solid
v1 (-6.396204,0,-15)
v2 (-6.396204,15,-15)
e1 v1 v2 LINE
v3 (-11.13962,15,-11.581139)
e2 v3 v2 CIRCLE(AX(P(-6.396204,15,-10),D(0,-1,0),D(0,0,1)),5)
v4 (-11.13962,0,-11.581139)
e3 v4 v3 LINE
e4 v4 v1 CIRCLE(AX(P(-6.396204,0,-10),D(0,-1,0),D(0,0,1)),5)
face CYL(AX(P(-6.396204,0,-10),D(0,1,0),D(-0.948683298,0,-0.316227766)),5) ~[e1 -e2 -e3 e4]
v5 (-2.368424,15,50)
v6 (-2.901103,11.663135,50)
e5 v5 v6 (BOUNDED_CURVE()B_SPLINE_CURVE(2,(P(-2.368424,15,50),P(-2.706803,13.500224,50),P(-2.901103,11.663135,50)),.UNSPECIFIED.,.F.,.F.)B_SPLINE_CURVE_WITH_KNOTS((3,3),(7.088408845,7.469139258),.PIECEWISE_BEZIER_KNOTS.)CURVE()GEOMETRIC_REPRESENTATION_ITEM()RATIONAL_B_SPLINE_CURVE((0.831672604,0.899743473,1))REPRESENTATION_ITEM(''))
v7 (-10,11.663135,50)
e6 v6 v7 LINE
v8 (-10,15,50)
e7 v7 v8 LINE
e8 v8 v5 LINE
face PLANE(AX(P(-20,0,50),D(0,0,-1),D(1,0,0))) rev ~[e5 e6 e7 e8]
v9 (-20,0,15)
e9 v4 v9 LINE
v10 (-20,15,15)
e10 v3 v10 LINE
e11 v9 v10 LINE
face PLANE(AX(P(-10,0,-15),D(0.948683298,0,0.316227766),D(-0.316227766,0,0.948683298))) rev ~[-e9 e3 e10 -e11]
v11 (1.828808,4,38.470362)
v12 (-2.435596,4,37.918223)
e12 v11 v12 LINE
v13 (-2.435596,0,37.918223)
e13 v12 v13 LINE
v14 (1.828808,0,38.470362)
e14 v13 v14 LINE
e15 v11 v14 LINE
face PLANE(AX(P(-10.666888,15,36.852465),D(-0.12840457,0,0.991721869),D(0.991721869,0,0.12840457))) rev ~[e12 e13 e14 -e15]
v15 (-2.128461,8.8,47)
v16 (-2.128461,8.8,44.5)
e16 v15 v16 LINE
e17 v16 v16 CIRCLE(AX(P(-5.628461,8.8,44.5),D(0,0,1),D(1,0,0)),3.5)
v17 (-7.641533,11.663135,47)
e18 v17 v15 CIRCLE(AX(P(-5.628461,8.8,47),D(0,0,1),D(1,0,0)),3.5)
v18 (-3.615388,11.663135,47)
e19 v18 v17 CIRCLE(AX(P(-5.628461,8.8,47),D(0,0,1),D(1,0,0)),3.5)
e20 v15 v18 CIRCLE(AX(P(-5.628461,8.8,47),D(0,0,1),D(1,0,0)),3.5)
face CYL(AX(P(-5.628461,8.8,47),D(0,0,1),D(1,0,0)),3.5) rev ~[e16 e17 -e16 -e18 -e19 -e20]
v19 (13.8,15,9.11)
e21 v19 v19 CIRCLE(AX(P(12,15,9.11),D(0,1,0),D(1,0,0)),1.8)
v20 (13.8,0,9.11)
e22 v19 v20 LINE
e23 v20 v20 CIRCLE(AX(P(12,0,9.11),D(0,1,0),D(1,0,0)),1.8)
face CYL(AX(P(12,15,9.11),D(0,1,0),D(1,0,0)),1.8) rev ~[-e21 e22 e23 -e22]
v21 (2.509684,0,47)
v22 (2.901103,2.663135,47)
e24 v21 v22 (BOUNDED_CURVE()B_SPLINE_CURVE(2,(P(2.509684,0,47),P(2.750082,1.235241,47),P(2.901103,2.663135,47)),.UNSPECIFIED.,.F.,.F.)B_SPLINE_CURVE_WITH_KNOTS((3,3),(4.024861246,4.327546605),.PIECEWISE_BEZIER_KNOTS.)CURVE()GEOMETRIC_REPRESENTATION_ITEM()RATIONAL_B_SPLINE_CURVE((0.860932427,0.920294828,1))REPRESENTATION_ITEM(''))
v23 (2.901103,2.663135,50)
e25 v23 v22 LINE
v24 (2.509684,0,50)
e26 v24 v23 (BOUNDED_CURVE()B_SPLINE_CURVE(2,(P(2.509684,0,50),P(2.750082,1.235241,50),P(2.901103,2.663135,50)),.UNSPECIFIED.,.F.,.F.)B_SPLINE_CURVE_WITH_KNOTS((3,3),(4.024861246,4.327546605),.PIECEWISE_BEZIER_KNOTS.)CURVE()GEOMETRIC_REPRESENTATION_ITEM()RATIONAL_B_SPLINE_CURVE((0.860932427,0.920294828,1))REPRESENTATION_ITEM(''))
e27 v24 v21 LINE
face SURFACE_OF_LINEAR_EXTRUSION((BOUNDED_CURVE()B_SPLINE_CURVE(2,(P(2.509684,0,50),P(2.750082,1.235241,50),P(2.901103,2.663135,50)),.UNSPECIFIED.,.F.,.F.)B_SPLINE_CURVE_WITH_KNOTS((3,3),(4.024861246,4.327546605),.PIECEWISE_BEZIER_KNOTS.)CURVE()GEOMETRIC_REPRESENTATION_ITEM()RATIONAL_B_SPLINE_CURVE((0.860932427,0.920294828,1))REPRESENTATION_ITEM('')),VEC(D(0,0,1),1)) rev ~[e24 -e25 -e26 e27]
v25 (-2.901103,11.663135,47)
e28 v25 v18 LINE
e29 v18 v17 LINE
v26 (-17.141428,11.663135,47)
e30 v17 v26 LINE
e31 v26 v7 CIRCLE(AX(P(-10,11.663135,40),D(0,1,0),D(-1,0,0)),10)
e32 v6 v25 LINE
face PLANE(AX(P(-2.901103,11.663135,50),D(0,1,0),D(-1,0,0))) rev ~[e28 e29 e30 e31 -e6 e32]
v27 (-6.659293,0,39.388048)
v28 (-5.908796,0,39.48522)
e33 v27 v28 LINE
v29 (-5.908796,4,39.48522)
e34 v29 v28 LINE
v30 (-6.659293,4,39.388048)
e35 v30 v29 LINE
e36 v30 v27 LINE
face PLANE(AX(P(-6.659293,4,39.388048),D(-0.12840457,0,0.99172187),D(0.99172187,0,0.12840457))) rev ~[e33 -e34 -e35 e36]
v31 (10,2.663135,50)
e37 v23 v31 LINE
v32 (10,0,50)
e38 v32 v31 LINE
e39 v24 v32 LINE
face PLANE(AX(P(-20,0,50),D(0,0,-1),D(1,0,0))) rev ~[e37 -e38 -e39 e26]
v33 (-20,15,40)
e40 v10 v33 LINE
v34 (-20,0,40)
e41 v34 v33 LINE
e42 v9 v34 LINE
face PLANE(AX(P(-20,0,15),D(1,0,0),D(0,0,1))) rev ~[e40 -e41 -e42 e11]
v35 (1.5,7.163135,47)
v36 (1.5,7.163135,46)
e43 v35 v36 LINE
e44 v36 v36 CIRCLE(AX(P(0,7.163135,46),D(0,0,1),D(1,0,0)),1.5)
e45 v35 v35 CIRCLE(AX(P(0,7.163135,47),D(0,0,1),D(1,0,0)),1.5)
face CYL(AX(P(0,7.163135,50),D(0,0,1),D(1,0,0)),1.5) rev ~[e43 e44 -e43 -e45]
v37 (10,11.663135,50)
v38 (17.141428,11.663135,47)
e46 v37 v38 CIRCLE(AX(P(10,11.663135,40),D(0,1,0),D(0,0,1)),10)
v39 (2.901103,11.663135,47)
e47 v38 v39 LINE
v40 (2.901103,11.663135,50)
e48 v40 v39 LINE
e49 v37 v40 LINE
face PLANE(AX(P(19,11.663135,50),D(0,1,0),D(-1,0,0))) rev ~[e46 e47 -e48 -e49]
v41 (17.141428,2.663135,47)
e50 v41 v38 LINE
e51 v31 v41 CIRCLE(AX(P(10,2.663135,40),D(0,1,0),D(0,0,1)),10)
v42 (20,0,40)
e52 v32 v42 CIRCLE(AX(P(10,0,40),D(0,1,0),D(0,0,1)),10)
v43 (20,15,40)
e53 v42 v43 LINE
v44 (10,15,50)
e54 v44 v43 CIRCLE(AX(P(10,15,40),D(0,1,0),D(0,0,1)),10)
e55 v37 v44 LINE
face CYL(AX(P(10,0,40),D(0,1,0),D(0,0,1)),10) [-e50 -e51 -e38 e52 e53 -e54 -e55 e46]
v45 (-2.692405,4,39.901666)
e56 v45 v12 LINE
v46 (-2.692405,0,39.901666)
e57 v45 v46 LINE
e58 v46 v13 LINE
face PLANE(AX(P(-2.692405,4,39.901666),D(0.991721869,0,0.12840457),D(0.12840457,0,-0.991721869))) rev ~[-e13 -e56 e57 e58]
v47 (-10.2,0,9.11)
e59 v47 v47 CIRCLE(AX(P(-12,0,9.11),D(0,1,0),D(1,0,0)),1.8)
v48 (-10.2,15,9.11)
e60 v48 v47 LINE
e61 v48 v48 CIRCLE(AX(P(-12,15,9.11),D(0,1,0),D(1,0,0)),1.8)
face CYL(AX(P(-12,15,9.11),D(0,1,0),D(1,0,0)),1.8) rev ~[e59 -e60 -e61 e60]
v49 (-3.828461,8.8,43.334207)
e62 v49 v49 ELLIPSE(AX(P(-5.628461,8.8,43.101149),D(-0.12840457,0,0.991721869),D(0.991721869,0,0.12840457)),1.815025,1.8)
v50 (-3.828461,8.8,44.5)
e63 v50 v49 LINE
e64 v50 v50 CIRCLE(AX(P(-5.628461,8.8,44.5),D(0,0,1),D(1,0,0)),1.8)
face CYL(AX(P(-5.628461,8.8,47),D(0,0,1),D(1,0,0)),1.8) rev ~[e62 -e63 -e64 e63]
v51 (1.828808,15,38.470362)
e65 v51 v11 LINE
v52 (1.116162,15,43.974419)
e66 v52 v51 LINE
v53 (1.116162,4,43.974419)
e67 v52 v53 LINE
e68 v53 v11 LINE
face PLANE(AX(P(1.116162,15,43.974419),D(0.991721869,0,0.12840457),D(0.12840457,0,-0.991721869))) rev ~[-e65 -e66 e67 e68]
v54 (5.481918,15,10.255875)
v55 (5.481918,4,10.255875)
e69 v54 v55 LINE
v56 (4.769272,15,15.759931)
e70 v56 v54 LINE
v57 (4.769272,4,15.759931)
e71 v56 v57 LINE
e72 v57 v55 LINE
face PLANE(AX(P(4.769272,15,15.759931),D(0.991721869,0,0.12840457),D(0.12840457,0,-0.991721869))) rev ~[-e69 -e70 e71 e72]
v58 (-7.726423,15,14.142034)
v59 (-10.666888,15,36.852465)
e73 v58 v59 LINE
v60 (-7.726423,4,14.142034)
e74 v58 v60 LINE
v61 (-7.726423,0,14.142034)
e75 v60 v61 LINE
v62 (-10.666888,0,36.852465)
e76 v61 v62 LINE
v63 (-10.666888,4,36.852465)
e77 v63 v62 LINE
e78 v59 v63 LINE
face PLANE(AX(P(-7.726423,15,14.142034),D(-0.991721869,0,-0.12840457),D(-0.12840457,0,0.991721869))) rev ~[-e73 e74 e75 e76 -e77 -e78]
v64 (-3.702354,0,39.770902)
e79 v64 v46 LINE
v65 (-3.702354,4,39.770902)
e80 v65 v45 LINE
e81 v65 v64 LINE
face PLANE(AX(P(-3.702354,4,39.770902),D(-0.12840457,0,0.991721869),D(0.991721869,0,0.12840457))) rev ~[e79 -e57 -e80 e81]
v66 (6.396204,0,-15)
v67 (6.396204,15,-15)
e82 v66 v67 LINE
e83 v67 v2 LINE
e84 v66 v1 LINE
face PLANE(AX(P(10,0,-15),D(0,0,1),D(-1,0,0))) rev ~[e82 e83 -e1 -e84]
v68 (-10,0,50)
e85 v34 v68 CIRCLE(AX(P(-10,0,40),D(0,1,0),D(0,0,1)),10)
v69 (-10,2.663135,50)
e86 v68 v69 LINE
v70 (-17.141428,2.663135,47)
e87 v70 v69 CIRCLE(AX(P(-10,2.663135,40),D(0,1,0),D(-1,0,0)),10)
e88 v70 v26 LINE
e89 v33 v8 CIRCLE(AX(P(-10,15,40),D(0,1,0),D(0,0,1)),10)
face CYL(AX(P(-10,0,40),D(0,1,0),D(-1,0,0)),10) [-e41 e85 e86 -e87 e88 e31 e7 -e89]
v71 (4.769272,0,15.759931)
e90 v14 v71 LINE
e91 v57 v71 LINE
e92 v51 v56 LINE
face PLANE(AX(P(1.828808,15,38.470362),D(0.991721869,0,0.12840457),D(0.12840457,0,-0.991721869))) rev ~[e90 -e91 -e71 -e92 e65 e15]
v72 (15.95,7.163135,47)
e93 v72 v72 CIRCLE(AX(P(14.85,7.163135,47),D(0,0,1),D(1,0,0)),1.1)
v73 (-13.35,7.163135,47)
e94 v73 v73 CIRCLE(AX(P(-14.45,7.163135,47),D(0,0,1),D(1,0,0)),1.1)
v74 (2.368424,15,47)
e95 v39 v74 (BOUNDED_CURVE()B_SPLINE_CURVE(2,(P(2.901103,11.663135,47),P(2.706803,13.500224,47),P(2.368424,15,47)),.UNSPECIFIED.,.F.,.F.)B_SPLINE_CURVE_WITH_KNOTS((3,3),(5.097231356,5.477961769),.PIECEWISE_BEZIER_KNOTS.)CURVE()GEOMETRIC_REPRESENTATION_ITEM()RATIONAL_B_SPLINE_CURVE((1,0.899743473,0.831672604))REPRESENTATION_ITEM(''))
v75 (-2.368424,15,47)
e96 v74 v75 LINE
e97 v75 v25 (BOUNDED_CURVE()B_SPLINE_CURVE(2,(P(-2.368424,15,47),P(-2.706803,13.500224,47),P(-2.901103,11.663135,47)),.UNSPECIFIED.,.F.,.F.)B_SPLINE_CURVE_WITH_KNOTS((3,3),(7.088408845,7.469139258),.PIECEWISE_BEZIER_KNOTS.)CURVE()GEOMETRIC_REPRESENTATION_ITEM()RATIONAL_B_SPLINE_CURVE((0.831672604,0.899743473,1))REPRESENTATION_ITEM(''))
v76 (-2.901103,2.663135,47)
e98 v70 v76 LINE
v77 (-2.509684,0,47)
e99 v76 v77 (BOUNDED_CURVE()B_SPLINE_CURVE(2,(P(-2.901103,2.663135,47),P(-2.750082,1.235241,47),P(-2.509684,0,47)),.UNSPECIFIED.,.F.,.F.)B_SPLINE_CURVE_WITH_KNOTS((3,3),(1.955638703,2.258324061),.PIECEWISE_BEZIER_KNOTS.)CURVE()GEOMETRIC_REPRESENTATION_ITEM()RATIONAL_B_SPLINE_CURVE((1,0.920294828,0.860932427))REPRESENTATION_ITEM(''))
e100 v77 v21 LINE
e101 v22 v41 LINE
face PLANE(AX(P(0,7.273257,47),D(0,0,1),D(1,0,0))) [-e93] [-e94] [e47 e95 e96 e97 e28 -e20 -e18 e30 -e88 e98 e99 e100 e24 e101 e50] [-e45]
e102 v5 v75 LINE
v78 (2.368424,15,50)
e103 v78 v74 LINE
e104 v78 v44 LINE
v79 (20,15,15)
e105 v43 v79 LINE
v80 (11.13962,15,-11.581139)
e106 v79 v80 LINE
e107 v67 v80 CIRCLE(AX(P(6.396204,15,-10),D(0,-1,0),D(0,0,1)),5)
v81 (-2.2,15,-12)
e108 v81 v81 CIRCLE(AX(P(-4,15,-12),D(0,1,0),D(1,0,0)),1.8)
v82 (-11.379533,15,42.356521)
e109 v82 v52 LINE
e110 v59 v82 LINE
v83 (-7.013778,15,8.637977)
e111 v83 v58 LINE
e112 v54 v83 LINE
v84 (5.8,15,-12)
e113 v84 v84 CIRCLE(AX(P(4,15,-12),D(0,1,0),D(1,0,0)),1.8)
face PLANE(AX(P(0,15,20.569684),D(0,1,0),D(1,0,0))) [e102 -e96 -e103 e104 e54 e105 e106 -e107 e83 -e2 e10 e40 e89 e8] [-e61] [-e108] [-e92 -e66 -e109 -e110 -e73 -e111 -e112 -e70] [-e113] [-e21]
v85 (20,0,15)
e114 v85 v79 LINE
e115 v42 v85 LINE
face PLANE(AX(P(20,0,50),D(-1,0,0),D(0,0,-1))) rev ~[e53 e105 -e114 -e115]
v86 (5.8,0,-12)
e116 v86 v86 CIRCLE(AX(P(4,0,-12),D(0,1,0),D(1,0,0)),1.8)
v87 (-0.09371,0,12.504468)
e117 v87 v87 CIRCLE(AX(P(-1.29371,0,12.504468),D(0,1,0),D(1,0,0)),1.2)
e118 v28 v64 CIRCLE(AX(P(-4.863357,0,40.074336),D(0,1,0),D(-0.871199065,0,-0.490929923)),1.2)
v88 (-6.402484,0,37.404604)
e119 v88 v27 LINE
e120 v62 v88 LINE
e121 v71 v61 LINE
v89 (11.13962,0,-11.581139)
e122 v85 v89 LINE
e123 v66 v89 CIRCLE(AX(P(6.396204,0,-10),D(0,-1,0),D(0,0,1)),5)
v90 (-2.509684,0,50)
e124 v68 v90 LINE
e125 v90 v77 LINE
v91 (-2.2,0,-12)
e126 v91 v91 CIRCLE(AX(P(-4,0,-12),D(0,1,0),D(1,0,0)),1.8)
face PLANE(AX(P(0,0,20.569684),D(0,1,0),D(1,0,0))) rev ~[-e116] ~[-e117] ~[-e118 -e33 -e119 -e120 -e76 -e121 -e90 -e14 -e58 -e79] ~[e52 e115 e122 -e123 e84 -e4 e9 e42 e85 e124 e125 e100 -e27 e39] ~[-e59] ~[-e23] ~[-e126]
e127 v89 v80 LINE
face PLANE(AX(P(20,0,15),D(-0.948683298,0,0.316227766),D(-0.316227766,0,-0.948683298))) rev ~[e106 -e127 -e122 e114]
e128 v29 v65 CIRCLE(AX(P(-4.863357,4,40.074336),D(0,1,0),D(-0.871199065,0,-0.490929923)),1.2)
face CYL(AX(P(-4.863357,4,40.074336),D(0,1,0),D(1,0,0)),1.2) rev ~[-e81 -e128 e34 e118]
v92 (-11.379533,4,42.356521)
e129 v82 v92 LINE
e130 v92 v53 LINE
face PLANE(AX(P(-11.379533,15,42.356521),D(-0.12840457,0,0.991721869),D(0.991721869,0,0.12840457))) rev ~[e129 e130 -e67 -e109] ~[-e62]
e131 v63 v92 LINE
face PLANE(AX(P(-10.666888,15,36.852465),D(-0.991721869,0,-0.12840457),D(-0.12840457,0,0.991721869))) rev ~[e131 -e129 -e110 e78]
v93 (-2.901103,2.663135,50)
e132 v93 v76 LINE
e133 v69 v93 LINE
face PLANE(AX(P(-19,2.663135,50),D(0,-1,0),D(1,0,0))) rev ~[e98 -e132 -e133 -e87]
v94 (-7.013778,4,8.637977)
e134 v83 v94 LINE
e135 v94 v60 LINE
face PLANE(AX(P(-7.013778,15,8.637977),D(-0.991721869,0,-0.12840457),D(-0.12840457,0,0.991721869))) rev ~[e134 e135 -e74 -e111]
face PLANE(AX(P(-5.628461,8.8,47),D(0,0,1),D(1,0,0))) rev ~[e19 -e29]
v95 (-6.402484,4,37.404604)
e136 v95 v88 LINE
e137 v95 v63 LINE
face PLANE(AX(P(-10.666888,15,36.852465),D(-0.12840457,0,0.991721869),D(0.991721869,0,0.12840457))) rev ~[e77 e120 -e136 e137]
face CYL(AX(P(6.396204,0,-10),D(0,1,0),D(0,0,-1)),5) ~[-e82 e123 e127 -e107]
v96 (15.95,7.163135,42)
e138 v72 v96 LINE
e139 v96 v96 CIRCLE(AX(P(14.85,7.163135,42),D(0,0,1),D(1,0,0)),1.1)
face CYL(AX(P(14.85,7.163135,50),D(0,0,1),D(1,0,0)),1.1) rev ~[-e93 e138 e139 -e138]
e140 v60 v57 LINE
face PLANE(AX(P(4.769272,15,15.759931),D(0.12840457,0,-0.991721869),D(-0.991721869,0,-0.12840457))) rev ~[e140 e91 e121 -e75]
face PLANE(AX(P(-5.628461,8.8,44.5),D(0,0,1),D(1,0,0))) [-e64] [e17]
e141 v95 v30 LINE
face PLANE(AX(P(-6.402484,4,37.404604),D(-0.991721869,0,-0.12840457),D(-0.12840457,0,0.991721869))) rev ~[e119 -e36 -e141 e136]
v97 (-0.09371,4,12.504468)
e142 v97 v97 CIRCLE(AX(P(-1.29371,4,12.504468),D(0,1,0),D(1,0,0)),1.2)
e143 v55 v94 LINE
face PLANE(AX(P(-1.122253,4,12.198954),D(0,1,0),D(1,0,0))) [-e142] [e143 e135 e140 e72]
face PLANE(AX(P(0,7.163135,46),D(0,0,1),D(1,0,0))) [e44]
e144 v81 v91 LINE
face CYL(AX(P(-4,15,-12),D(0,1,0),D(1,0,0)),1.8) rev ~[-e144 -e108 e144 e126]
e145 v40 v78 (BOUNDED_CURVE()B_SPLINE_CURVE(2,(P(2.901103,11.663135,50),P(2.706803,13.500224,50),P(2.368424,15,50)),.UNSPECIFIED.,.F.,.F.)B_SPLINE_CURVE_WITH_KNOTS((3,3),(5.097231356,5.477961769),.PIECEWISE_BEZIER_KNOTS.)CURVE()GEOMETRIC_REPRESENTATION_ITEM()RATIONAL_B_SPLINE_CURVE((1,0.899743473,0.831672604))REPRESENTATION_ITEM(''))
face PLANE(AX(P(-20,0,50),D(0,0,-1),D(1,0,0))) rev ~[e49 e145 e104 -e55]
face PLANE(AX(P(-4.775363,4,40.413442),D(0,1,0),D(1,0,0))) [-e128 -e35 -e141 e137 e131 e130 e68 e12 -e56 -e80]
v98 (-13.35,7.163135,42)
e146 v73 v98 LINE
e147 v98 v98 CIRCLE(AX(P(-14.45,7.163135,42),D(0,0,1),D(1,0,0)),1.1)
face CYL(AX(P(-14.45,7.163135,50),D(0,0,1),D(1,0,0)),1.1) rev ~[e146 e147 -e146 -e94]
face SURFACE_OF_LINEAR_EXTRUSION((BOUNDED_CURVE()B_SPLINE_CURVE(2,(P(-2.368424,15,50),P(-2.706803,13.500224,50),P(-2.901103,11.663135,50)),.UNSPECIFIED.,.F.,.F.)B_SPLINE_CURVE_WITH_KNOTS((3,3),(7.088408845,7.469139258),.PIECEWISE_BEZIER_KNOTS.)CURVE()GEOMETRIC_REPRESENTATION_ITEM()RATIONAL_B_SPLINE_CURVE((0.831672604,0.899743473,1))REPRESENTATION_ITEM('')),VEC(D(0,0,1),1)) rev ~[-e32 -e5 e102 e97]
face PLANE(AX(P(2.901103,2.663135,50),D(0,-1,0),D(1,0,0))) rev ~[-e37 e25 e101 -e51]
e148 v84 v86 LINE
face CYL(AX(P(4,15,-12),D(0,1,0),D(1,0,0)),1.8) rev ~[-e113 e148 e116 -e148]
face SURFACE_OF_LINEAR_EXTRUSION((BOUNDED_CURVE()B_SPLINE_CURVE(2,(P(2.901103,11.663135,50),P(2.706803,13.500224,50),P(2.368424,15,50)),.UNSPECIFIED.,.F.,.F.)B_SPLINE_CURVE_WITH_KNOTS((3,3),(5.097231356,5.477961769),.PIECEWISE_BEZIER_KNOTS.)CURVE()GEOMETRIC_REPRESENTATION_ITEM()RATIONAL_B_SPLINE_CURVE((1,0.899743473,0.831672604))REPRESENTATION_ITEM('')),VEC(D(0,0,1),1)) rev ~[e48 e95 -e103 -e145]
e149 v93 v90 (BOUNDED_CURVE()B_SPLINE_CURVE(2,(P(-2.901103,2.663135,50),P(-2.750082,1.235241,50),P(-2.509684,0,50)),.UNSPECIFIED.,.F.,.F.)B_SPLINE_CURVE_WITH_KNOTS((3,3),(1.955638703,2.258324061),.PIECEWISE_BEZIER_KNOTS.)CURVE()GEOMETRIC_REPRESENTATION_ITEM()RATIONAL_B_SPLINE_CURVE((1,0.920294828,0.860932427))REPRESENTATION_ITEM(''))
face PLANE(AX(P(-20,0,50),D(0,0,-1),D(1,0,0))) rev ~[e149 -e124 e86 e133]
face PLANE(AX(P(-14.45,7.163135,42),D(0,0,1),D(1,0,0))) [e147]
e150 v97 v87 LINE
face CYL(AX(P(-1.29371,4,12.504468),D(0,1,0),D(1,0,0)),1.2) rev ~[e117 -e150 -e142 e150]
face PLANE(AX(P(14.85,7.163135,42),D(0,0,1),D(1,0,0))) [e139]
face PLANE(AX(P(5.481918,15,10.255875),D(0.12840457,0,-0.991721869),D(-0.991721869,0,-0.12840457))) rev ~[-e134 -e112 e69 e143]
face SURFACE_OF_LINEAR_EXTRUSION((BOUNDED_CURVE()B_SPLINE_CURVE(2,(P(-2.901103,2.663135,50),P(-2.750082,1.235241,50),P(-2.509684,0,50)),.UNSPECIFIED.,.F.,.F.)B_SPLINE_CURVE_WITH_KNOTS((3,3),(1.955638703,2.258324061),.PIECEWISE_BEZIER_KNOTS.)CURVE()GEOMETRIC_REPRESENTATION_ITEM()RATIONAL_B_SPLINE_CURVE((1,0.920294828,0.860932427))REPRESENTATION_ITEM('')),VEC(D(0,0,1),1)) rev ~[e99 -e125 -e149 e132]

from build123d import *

# Parameters (mm, degrees)
BOSS_EXTRUDE1_DEPTH = 15
SKETCH2_R           = 1.8
CUT_EXTRUDE1_DEPTH  = 56.901699437
FILLET2_R           = 5
CUT_EXTRUDE2_DEPTH  = 56.901699437
CUT_EXTRUDE3_DEPTH  = 11
SKETCH3_R           = 1.2
CUT_EXTRUDE4_DEPTH  = 11
FILLET3_R           = 10
SKETCH4_R           = 1.1
CUT_EXTRUDE5_DEPTH  = 3
SKETCH4_2_R         = 1.1
CUT_EXTRUDE6_DEPTH  = 8
SKETCH4_4_R         = 1.5
CUT_EXTRUDE7_DEPTH  = 4
CUT_EXTRUDE8_DEPTH  = 4
SKETCH6_R           = 3.5
SKETCH6_R_2         = 1.8
CUT_EXTRUDE9_DEPTH  = 2.5
SKETCH6_2_R         = 1.8
CUT_EXTRUDE10_DEPTH = 13.5


with BuildPart() as part:
    # Sketch1 → Boss-Extrude1 (new body)
    with BuildSketch(Plane(origin=(0, 0, 0), x_dir=(1, 0, 0), z_dir=(0, 1, 0))):
        Polygon((-10, 15), (-20, -15), (-20, -50), (20, -50), (20, -15), (10, 15), align=None)
    extrude(amount=BOSS_EXTRUDE1_DEPTH)

    # Sketch2 → Cut-Extrude1 (cut, through all)
    with BuildSketch(Plane(origin=(0, 15, 0), x_dir=(1, 0, 0), z_dir=(0, 1, 0))):
        with Locations((-4, 12)):
            Circle(SKETCH2_R)
        with Locations((4, 12)):
            Circle(SKETCH2_R)
        with Locations((12, -9.11)):
            Circle(SKETCH2_R)
        with Locations((-12, -9.11)):
            Circle(SKETCH2_R)
    extrude(amount=-CUT_EXTRUDE1_DEPTH, mode=Mode.SUBTRACT)

    # Fillet2
    fillet2_edges = [part.edges().sort_by_distance(p)[0] for p in [
        (-10, 7.5, -15),
        (10, 7.5, -15),
    ]]
    fillet(fillet2_edges, radius=FILLET2_R)

    # Sketch2<3> → Cut-Extrude2 (cut, through all)
    with BuildSketch(Plane(origin=(0, 15, 0), x_dir=(1, 0, 0), z_dir=(0, 1, 0))):
        Polygon((-10.666887738, -36.852464686), (1.828807817, -38.470362271), (4.769272475, -15.75993146), (-7.72642308, -14.142033875), align=None)
    extrude(amount=-CUT_EXTRUDE2_DEPTH, mode=Mode.SUBTRACT)

    # Sketch2<4> → Cut-Extrude3 (cut)
    with BuildSketch(Plane(origin=(0, 15, 0), x_dir=(1, 0, 0), z_dir=(0, 1, 0))):
        Polygon((1.116162452, -43.974418646), (1.828807817, -38.470362271), (-10.666887738, -36.852464686), (-11.379533103, -42.356521061), align=None)
        Polygon((-7.72642308, -14.142033875), (4.769272475, -15.75993146), (5.481917839, -10.255875085), (-7.013777716, -8.6379775), align=None)
    extrude(amount=-CUT_EXTRUDE3_DEPTH, mode=Mode.SUBTRACT)

    # Sketch3 → Cut-Extrude4 (cut)
    with BuildSketch(Plane(origin=(0, 4, 0), x_dir=(1, 0, 0), z_dir=(0, 1, 0))):
        with Locations((-1.293710172, -12.504467624)):
            Circle(SKETCH3_R)
        with Locations((-4.863357224, -40.074335595)):
            Circle(SKETCH3_R)
    extrude(amount=-CUT_EXTRUDE4_DEPTH, mode=Mode.SUBTRACT)

    # Fillet3
    fillet3_edges = [part.edges().sort_by_distance(p)[0] for p in [
        (20, 7.5, 50),
        (-20, 7.5, 50),
    ]]
    fillet(fillet3_edges, radius=FILLET3_R)

    # Sketch4 → Cut-Extrude5 (cut)
    with BuildSketch(Plane.XY.offset(50)):
        with BuildLine():
            Line((19, 2.663134509), (19, 11.663134509))
            Line((19, 11.663134509), (2.90110314, 11.663134509))
            add(Edge.make_bspline(
                [(2.90110314, 11.663134509), (2.706802795, 13.50022371), (2.368423756, 15)],
                knots=[5.097231356, 5.097231356, 5.097231356, 5.477961769, 5.477961769, 5.477961769], degree=2, weights=[1, 0.899743473, 0.831672604]))
            Line((2.368423756, 15), (-2.368423756, 15))
            add(Edge.make_bspline(
                [(-2.368423756, 15), (-2.706802795, 13.50022371), (-2.90110314, 11.663134509)],
                knots=[7.088408845, 7.088408845, 7.088408845, 7.469139258, 7.469139258, 7.469139258], degree=2, weights=[0.831672604, 0.899743473, 1]))
            Line((-2.90110314, 11.663134509), (-19, 11.663134509))
            Line((-19, 11.663134509), (-19, 2.663134509))
            Line((-19, 2.663134509), (-2.90110314, 2.663134509))
            add(Edge.make_bspline(
                [(-2.90110314, 2.663134509), (-2.750081515, 1.235241026), (-2.509684133, 0)],
                knots=[1.955638703, 1.955638703, 1.955638703, 2.258324061, 2.258324061, 2.258324061], degree=2, weights=[1, 0.920294828, 0.860932427]))
            Line((-2.509684133, 0), (2.509684133, 0))
            add(Edge.make_bspline(
                [(2.509684133, 0), (2.750081515, 1.235241026), (2.90110314, 2.663134509)],
                knots=[4.024861246, 4.024861246, 4.024861246, 4.327546605, 4.327546605, 4.327546605], degree=2, weights=[0.860932427, 0.920294828, 1]))
            Line((2.90110314, 2.663134509), (19, 2.663134509))
        make_face()
        with Locations((14.85, 7.163134509)):
            Circle(SKETCH4_R, mode=Mode.SUBTRACT)
        with Locations((-14.45, 7.163134509)):
            Circle(SKETCH4_R, mode=Mode.SUBTRACT)
    extrude(amount=-CUT_EXTRUDE5_DEPTH, mode=Mode.SUBTRACT)

    # Sketch4<2> → Cut-Extrude6 (cut)
    with BuildSketch(Plane.XY.offset(50)):
        with Locations((-14.45, 7.163134509)):
            Circle(SKETCH4_2_R)
        with Locations((14.85, 7.163134509)):
            Circle(SKETCH4_2_R)
    extrude(amount=-CUT_EXTRUDE6_DEPTH, mode=Mode.SUBTRACT)

    # Sketch4<4> → Cut-Extrude7 (cut)
    with BuildSketch(Plane.XY.offset(50)):
        with Locations((0, 7.163134509)):
            Circle(SKETCH4_4_R)
    extrude(amount=-CUT_EXTRUDE7_DEPTH, mode=Mode.SUBTRACT)

    # Sketch5 → Cut-Extrude8 (cut)
    with BuildSketch(Plane(origin=(0, 4, 0), x_dir=(1, 0, 0), z_dir=(0, 1, 0))):
        with BuildLine():
            Line((-2.435596222, -37.918222619), (-6.402483699, -37.404604338))
            Line((-6.402483699, -37.404604338), (-6.65929284, -39.388048077))
            Line((-6.65929284, -39.388048077), (-5.908796102, -39.485219687))
            ThreePointArc((-5.908796102, -39.485219687), (-4.70927174, -38.884269352), (-3.702354234, -39.770901821))
            Line((-3.702354234, -39.770901821), (-2.692405362, -39.901666358))
            Line((-2.692405362, -39.901666358), (-2.435596222, -37.918222619))
        make_face()
    extrude(amount=-CUT_EXTRUDE8_DEPTH, mode=Mode.SUBTRACT)

    # Sketch6 → Cut-Extrude9 (cut)
    with BuildSketch(Plane.XY.offset(47)):
        with Locations((-5.628460917, 8.8)):
            Circle(SKETCH6_R)
        with Locations((-5.628460917, 8.8)):
            Circle(SKETCH6_R_2, mode=Mode.SUBTRACT)
    extrude(amount=-CUT_EXTRUDE9_DEPTH, mode=Mode.SUBTRACT)

    # Sketch6<2> → Cut-Extrude10 (cut)
    with BuildSketch(Plane.XY.offset(47)):
        with Locations((-5.628460917, 8.8)):
            Circle(SKETCH6_2_R)
    extrude(amount=-CUT_EXTRUDE10_DEPTH, mode=Mode.SUBTRACT)


solid = part.part
